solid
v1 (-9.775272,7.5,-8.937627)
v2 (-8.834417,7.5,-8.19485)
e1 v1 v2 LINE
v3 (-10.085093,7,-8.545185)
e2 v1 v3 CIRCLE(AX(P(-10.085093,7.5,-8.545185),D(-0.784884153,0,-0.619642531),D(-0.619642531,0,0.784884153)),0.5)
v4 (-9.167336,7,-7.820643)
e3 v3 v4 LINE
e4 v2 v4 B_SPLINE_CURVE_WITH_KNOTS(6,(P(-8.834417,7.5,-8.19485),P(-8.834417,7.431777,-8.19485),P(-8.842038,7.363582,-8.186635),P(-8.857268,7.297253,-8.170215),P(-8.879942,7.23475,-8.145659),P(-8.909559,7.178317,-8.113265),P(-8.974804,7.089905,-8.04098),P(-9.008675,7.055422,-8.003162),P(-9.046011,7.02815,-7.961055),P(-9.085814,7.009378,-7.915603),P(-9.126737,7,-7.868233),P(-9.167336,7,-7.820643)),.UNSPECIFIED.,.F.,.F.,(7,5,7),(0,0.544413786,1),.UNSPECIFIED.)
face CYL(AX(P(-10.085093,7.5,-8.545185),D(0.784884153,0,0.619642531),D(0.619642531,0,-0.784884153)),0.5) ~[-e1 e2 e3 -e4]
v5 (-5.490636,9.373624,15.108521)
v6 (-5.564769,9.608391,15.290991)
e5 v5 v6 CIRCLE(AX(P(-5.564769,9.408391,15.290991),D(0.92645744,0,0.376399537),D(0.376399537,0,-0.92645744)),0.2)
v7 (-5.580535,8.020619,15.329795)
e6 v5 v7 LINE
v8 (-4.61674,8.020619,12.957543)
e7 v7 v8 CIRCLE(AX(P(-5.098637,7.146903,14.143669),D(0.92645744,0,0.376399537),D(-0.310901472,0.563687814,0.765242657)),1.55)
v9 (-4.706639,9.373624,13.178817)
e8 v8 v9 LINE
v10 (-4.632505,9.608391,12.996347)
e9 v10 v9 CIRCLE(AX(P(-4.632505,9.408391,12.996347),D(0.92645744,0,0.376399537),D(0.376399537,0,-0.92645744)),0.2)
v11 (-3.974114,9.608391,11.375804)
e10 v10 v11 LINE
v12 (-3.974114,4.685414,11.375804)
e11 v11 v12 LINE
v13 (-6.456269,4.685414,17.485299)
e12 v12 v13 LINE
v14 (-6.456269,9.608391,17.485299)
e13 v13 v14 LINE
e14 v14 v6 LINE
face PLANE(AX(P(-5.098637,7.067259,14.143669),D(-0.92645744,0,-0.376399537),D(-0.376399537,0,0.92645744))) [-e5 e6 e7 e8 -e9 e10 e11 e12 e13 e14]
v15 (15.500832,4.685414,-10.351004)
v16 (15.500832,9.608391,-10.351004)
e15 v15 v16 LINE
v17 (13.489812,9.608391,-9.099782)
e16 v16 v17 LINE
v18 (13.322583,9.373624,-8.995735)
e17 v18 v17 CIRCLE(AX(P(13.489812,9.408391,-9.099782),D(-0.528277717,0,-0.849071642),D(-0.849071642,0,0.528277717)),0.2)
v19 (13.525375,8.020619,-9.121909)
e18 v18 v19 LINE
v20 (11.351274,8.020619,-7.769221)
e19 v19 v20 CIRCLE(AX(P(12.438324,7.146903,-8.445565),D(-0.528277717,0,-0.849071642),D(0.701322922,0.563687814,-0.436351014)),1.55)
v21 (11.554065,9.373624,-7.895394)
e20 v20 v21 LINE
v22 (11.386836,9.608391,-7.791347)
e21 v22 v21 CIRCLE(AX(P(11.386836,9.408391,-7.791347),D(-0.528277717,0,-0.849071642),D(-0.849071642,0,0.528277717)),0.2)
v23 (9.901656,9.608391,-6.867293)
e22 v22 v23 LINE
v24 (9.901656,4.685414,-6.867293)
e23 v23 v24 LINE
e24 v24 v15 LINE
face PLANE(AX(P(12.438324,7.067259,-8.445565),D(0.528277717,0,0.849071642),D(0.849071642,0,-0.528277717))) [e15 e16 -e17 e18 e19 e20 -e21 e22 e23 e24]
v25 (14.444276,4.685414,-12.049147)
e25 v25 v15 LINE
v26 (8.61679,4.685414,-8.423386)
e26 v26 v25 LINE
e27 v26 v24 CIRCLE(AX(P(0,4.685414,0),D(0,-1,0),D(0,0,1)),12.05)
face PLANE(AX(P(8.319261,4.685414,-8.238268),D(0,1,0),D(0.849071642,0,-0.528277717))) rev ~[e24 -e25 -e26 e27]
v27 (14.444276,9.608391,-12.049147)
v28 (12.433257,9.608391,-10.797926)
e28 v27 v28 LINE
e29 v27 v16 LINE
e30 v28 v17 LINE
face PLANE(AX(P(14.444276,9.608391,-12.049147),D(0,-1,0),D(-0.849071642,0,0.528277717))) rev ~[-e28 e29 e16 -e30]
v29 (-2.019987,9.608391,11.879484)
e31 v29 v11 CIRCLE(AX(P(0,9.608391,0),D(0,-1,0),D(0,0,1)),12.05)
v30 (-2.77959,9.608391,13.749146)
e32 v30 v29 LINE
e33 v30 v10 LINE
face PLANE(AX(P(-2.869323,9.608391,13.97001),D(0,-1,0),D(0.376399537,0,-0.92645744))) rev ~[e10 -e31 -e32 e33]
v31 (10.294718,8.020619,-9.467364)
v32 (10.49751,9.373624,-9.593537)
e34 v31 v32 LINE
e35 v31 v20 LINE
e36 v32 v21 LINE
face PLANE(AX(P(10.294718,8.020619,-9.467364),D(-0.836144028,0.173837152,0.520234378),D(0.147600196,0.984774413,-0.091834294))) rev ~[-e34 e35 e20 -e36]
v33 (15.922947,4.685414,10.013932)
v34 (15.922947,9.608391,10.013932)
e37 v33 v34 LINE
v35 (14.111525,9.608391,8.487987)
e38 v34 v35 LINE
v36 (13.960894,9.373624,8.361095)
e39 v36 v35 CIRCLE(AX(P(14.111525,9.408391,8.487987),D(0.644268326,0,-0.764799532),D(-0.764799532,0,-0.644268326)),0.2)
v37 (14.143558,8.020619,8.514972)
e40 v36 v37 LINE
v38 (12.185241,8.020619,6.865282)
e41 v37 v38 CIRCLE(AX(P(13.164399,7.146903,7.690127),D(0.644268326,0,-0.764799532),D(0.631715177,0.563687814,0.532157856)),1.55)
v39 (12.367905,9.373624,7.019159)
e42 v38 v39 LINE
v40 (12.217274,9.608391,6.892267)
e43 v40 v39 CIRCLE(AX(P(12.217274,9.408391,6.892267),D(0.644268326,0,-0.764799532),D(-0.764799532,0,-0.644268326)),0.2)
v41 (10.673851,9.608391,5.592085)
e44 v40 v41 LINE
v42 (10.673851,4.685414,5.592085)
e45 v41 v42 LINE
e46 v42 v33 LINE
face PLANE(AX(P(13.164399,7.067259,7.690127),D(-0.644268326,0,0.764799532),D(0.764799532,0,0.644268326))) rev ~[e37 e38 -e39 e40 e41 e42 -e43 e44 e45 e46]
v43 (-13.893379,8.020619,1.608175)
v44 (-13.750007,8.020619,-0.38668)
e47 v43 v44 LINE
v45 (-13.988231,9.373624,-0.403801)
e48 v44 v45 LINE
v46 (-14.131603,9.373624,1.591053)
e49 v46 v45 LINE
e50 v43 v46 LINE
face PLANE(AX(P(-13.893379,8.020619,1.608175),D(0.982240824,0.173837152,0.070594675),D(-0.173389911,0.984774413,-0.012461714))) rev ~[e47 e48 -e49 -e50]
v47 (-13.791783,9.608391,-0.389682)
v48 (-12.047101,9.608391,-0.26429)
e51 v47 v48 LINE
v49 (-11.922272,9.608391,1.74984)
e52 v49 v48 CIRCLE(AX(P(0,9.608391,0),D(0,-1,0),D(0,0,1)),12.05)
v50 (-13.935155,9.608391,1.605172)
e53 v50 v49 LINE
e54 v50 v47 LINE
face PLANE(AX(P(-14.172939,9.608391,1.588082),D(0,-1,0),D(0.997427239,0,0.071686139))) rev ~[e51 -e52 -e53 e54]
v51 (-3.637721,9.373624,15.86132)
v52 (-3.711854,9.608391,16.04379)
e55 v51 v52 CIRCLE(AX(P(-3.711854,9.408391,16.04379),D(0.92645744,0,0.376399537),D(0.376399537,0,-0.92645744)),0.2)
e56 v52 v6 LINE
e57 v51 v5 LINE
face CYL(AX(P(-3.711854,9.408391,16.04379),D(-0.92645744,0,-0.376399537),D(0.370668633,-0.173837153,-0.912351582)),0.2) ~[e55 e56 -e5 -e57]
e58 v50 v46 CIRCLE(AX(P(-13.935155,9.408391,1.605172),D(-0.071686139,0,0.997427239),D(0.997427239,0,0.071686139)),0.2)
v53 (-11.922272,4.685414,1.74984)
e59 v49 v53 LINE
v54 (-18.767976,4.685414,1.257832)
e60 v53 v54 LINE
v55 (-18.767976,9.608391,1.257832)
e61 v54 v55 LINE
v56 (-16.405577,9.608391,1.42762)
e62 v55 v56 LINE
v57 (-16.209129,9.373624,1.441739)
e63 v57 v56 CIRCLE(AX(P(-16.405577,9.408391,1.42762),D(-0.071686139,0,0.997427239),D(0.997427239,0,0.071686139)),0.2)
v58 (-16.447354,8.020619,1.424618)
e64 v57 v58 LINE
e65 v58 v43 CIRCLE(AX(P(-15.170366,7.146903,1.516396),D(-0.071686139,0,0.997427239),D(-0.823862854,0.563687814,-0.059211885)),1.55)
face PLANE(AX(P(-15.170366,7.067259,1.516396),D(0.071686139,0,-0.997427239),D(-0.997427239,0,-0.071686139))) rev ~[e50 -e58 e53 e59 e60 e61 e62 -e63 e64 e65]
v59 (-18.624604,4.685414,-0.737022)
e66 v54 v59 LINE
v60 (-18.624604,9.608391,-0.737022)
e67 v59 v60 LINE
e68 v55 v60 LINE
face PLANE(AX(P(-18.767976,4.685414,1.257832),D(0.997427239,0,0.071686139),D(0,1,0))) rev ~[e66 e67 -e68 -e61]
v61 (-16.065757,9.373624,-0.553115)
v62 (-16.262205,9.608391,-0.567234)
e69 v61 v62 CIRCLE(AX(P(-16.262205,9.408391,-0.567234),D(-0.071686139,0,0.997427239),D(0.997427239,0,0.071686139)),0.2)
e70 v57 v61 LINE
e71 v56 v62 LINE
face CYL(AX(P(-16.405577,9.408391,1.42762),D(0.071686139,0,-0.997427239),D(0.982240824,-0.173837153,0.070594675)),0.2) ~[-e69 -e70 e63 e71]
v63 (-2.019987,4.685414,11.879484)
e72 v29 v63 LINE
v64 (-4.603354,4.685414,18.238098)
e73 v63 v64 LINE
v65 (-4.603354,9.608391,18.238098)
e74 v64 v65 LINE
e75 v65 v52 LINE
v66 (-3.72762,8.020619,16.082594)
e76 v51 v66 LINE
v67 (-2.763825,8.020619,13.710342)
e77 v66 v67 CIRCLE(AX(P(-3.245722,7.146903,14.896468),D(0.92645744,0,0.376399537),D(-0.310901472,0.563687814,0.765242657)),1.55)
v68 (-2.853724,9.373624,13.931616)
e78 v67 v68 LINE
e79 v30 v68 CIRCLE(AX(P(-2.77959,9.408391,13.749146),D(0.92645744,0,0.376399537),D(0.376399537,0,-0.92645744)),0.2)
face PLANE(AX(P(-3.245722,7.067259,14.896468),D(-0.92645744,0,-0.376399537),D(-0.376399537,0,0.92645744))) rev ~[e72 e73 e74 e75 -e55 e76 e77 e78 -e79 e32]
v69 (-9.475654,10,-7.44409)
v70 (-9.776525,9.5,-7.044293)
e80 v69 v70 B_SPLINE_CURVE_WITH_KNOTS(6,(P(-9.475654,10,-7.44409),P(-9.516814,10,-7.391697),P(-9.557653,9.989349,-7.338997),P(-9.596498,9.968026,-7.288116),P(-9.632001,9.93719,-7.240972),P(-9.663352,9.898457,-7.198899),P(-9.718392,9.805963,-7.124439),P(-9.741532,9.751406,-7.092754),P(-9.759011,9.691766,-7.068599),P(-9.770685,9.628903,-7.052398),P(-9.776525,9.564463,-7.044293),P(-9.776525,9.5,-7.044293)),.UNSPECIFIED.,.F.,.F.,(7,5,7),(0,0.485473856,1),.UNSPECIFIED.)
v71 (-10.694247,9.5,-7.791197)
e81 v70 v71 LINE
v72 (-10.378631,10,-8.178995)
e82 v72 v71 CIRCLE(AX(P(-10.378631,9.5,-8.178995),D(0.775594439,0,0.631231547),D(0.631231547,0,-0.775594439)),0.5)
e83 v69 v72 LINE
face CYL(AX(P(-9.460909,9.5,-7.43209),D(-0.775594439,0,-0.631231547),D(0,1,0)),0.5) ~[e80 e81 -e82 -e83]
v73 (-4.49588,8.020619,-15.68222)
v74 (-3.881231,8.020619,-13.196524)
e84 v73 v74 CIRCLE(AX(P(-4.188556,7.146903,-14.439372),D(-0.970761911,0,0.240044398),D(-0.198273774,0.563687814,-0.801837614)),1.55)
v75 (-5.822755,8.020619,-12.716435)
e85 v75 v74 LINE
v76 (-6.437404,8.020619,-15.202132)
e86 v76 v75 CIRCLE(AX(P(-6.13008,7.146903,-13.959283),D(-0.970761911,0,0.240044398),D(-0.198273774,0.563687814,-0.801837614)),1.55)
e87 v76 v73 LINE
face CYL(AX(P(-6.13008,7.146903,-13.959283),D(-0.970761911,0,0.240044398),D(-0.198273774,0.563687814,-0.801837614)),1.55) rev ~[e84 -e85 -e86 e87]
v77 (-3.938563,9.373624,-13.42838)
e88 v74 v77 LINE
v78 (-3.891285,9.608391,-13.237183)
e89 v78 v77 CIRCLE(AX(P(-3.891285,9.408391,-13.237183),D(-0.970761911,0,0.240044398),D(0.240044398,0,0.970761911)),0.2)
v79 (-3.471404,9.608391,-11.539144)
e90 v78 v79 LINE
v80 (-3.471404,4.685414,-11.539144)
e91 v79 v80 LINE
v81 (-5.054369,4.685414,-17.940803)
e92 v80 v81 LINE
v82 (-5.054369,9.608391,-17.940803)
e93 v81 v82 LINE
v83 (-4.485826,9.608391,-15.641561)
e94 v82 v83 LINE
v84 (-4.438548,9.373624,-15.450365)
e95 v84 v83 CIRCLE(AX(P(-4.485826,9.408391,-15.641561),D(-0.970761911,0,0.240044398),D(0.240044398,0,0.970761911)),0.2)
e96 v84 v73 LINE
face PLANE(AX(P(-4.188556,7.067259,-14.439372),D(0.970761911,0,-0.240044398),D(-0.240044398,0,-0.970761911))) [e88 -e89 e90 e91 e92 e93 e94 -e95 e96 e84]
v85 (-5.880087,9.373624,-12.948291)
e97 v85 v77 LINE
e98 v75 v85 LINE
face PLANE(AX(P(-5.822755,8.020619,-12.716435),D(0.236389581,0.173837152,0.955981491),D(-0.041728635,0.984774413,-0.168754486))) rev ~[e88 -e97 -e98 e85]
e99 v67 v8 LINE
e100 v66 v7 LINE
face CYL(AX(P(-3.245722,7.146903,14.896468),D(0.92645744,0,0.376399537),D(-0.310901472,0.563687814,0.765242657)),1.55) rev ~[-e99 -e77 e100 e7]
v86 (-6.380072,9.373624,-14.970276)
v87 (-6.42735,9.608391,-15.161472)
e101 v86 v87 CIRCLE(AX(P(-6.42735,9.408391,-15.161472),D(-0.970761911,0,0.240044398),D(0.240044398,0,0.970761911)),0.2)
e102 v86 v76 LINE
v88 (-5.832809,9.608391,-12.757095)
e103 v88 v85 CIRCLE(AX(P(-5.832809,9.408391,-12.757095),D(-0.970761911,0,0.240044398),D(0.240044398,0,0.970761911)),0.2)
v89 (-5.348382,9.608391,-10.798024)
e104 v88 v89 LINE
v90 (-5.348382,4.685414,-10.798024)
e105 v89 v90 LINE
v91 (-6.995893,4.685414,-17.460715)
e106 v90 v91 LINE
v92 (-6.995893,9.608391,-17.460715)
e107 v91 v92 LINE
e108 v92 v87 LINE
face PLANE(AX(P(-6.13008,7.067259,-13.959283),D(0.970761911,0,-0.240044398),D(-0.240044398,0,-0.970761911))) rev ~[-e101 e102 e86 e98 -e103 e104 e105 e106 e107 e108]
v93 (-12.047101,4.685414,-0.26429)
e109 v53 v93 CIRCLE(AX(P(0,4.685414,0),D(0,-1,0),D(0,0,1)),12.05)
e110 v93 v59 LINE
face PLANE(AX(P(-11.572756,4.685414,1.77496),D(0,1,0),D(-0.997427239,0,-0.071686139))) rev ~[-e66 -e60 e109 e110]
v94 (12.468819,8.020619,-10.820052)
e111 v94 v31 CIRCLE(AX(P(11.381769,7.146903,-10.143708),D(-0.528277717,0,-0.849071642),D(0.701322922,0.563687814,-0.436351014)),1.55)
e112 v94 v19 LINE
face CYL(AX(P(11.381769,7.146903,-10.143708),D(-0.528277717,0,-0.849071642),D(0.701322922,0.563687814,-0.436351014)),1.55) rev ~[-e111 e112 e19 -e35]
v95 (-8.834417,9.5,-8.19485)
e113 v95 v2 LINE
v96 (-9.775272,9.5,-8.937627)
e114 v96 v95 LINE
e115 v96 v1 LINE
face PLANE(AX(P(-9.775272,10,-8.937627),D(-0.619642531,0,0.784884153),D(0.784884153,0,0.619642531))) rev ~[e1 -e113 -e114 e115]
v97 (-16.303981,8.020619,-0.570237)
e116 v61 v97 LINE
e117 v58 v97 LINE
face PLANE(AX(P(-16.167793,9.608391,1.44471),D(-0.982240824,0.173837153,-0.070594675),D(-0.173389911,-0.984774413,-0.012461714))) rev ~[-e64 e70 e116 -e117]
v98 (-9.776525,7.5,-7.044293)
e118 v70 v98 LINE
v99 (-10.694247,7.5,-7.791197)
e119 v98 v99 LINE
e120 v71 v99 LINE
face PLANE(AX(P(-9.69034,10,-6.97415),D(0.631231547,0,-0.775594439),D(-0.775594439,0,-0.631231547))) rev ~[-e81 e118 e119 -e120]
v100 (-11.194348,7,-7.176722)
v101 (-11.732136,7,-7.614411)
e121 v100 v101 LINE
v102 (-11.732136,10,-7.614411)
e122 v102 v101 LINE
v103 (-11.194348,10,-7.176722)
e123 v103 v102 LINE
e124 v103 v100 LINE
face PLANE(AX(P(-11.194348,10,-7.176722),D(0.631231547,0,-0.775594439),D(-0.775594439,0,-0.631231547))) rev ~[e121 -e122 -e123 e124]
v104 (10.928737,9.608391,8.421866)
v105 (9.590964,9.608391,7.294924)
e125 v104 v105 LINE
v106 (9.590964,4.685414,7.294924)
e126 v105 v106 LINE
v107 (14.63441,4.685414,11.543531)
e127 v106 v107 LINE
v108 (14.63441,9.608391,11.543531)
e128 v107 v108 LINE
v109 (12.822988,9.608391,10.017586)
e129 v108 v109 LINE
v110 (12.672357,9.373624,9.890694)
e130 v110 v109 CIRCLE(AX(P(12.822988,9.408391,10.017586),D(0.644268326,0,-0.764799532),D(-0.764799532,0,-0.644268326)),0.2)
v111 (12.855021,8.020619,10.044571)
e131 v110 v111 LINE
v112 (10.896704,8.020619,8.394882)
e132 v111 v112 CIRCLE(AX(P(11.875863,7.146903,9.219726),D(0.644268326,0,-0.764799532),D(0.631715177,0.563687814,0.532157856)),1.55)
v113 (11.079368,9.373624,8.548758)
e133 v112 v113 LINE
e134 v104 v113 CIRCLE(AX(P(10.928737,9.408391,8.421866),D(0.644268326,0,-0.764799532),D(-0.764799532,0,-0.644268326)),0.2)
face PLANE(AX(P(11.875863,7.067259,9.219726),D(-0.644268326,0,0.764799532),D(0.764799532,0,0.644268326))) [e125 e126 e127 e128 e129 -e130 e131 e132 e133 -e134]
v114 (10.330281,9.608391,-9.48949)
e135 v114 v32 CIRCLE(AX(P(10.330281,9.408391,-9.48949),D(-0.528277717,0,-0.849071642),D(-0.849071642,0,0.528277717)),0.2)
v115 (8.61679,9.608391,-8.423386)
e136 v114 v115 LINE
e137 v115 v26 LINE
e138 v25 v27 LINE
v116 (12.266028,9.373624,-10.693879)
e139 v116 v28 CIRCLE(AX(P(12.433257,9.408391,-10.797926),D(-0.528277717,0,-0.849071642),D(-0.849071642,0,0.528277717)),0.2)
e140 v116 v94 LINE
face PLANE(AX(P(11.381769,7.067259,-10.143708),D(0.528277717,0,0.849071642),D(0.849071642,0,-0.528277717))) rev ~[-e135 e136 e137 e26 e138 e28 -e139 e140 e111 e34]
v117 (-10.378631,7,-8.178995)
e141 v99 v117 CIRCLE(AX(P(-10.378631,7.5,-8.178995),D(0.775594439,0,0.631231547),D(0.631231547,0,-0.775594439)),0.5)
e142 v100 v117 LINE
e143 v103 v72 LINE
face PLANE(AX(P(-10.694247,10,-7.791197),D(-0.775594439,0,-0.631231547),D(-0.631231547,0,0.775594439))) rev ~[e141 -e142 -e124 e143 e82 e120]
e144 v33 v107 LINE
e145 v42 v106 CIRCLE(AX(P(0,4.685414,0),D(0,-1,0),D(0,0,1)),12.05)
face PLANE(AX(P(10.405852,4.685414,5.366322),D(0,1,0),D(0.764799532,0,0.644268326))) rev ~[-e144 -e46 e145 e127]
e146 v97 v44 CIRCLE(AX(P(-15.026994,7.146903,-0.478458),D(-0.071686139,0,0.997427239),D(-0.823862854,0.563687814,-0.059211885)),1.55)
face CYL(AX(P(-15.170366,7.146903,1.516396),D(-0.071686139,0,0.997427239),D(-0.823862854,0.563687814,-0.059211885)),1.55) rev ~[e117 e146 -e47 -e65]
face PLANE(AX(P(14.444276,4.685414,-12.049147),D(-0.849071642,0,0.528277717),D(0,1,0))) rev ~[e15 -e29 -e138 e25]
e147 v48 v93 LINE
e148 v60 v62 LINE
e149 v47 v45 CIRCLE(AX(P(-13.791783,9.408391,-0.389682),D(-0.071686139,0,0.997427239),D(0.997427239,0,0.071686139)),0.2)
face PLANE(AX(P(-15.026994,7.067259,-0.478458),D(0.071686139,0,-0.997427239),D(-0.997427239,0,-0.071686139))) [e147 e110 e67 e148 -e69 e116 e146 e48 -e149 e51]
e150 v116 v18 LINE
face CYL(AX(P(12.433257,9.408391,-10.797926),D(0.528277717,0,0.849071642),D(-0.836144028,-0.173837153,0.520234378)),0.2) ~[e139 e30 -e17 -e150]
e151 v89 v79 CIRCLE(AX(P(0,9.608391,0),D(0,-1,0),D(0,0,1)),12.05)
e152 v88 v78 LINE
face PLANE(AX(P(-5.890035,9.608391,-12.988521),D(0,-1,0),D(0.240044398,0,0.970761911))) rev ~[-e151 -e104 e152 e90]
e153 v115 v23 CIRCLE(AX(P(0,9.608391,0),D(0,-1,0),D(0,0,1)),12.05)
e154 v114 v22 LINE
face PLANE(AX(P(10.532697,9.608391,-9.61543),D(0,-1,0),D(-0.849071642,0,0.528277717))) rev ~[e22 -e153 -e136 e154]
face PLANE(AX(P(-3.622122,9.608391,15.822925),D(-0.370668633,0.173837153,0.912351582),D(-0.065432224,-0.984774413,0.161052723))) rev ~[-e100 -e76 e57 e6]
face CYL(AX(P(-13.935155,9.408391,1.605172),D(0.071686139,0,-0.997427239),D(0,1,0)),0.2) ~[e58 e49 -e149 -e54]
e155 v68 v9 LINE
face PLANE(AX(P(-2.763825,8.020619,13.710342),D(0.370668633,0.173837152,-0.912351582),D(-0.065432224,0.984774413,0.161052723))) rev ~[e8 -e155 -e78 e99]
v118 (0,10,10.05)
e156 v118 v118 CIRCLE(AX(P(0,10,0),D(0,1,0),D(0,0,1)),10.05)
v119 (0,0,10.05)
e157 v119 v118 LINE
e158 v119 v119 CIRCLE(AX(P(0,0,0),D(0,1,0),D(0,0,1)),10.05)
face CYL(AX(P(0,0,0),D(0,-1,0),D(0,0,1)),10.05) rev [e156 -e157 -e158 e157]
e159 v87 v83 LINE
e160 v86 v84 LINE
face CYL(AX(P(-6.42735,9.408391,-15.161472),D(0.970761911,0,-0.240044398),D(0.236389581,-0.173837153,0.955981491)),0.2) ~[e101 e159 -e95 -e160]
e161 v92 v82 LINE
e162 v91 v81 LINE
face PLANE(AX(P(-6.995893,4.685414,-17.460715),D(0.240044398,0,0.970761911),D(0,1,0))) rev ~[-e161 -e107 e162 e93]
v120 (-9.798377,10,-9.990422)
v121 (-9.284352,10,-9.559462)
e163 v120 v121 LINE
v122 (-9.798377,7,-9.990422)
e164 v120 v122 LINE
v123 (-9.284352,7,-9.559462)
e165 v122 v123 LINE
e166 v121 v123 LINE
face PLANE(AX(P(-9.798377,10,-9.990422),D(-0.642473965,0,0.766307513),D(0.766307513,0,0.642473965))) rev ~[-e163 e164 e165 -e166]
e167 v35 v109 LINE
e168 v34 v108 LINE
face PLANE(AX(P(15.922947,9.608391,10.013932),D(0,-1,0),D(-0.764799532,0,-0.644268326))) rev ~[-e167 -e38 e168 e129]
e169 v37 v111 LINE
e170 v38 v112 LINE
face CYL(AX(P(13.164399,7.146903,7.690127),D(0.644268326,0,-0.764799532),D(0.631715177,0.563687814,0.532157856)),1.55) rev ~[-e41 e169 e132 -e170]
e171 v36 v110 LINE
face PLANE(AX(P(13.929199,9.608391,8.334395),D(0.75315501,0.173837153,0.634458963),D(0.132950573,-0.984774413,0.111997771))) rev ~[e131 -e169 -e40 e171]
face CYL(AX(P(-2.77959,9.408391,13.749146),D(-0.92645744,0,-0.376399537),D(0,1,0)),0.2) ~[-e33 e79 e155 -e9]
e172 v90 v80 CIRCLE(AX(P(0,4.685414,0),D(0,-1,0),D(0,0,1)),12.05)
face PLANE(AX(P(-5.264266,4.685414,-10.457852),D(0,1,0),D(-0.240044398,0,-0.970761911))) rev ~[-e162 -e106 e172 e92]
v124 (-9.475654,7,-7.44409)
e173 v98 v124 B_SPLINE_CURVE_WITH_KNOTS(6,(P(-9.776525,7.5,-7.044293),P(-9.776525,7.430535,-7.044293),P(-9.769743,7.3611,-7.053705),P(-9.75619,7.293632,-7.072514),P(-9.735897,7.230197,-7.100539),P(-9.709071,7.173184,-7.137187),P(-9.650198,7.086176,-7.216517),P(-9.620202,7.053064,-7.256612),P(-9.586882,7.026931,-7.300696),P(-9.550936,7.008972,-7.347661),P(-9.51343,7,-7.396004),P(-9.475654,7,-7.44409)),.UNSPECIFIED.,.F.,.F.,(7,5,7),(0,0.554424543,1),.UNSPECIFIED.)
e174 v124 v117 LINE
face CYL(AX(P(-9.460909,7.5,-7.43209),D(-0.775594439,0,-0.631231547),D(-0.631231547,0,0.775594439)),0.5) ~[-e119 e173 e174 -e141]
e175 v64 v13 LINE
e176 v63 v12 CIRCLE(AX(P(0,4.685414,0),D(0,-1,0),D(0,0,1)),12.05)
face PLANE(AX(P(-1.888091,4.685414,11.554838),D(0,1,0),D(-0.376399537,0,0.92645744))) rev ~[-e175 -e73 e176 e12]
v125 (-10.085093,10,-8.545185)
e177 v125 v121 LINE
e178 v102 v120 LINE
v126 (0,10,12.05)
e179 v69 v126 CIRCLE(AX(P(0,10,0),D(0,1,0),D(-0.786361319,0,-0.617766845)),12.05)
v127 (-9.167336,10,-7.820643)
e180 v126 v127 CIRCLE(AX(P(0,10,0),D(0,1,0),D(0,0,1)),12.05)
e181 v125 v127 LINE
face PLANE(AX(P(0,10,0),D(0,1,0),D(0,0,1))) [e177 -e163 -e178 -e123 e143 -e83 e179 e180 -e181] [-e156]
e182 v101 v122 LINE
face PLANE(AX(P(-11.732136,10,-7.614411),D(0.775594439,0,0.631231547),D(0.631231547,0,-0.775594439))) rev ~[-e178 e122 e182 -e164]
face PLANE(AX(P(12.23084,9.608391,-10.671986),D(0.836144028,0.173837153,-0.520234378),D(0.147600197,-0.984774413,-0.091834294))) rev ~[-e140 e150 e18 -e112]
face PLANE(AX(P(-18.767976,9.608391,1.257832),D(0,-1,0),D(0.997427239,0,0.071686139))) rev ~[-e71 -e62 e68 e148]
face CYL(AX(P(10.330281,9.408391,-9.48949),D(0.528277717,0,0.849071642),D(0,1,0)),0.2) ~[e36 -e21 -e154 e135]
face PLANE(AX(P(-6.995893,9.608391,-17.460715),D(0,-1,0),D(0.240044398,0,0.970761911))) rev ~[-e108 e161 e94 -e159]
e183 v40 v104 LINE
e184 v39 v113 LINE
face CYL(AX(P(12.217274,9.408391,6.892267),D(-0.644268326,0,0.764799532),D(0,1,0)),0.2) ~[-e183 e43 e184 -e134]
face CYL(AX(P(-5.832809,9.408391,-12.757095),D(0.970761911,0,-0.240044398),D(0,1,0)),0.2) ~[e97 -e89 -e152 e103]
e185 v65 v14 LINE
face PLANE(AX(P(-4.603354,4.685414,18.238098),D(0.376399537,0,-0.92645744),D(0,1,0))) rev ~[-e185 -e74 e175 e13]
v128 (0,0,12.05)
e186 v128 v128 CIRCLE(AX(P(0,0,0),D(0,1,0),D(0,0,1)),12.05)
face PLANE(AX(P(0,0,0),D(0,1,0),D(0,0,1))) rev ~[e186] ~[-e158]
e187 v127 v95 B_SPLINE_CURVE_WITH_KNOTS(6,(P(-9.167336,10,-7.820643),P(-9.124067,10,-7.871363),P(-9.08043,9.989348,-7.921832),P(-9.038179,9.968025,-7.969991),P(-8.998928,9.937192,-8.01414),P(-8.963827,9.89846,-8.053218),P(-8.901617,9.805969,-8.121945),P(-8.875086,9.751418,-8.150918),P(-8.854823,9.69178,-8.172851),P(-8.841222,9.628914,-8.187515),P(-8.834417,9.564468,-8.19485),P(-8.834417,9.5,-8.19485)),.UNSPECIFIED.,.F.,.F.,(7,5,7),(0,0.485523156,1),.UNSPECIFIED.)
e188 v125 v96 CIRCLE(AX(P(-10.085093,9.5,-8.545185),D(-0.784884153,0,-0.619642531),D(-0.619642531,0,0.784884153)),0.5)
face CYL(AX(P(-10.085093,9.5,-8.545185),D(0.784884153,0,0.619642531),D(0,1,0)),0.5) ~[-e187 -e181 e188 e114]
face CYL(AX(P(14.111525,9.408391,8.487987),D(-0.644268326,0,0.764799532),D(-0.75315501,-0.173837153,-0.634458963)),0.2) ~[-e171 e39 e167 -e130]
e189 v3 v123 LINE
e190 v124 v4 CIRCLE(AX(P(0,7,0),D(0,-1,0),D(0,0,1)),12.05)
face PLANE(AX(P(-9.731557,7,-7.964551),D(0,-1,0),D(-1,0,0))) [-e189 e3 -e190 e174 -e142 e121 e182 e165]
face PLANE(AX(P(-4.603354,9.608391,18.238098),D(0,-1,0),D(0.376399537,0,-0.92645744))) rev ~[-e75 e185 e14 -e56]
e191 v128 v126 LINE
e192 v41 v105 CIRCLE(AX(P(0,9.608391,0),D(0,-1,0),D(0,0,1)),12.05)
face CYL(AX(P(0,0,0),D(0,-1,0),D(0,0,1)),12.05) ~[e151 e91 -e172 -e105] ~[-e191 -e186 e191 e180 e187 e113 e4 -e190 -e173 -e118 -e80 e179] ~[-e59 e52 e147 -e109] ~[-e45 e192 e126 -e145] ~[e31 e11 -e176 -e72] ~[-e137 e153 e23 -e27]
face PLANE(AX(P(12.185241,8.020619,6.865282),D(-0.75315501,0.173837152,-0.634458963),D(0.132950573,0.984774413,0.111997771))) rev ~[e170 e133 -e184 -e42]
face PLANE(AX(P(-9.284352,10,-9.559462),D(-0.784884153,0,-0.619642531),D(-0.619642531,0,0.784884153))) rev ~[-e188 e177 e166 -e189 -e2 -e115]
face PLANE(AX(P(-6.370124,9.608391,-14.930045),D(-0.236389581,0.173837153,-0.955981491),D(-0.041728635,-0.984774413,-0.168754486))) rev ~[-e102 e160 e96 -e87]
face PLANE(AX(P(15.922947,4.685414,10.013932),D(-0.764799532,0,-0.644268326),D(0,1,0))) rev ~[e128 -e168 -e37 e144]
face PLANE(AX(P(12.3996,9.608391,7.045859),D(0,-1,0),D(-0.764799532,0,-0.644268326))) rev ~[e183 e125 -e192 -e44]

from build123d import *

# Parameters (mm, degrees)
ESQUISSE1_R                      = 12.05
ESQUISSE1_R_2                    = 10.05
BASE_DEPTH                       = 10
BOSS_TIGE_DEPTH                  = 2
CONGE_TIGE_R                     = 0.2
REP_SUPPORT_TIGE_COUNT           = 5
CONGE_TIGE_OF_REP_SUPPORT_TIGE_R = 0.2
BOSS_EXTRU_1_DEPTH               = 3
CONG_1_R                         = 0.5


with BuildPart() as part:
    # Esquisse1 → BASE (new body)
    with BuildSketch(Plane(origin=(0, 0, 0), x_dir=(1, 0, 0), z_dir=(0, 1, 0))):
        Circle(ESQUISSE1_R)
        Circle(ESQUISSE1_R_2, mode=Mode.SUBTRACT)
    extrude(amount=BASE_DEPTH)

    # Esquisse7 → BOSS TIGE (add)
    with BuildSketch(Plane(origin=(-2.523980967, 0, 0.624115435), x_dir=(-0.2400443980205285, -8.560907231219602e-15, -0.9707619105522024), z_dir=(0.9707619105522023, 0, -0.24004439802052846))):
        with BuildLine():
            Line((14.022631891, 9.608391049), (11.415742159, 9.608391049))
            Line((11.415742159, 9.608391049), (11.415742159, 4.685414017))
            Line((11.415742159, 4.685414017), (18.629521623, 4.685414017))
            Line((18.629521623, 4.685414017), (18.629521623, 9.608391049))
            Line((18.629521623, 9.608391049), (16.022631891, 9.608391049))
            Line((16.022631891, 9.608391049), (16.302913172, 8.020618644))
            ThreePointArc((16.302913172, 8.020618644), (15.022631891, 5.596902533), (13.742350611, 8.020618644))
            Line((13.742350611, 8.020618644), (14.022631891, 9.608391049))
        make_face()
    boss_tige = extrude(amount=BOSS_TIGE_DEPTH)

    # CONGE TIGE
    conge_tige_edges = [part.edges().sort_by_distance(p)[0] for p in [
        (-5.399362084, 9.608391049, -15.17008971),
        (-4.919273288, 9.608391049, -13.228565889),
    ]]
    fillet(conge_tige_edges, radius=CONGE_TIGE_R)

    # REP SUPPORT TIGE: BOSS TIGE ×5 about axis
    rep_support_tige_axis = Axis((0, 10, 0), (0, -1, 0))
    for i in range(1, REP_SUPPORT_TIGE_COUNT):
        add(boss_tige.rotate(rep_support_tige_axis, i * 360 / REP_SUPPORT_TIGE_COUNT))

    # CONGE TIGE of REP SUPPORT TIGE
    conge_tige_of_rep_support_tige_edges = [part.edges().sort_by_distance(p)[0] for p in [
        (12.759118029, 9.608391049, -9.82291402),
        (11.060974744, 9.608391049, -8.766358587),
        (13.284930692, 9.608391049, 9.099194977),
        (11.755331628, 9.608391049, 7.810658325),
        (-4.548579323, 9.608391049, 15.446525786),
        (-3.795780249, 9.608391049, 13.593610906),
        (-16.096107314, 9.608391049, 0.447282967),
        (-14.101252836, 9.608391049, 0.590655245),
    ]]
    fillet(conge_tige_of_rep_support_tige_edges, radius=CONGE_TIGE_OF_REP_SUPPORT_TIGE_R)

    # Esquisse8 → Boss.-Extru.1 (add)
    with BuildSketch(Plane(origin=(0, 10, 0), x_dir=(1, 0, 0), z_dir=(0, 1, 0))):
        with BuildLine():
            Line((-8.268421395, 8.757415667), (-7.703456323, 8.300627196))
            ThreePointArc((-7.703456323, 8.300627196), (-8.759173713, 7.17778009), (-9.652653966, 5.92198637))
            Line((-9.652653966, 5.92198637), (-10.190441919, 6.359674812))
            Line((-10.190441919, 6.359674812), (-9.690340196, 6.974149988))
            Line((-9.690340196, 6.974149988), (-10.694246531, 7.791197297))
            Line((-10.694246531, 7.791197297), (-11.194348255, 7.176722121))
            Line((-11.194348255, 7.176722121), (-11.732136208, 7.614410563))
            Line((-11.732136208, 7.614410563), (-9.79837654, 9.990421794))
            Line((-9.79837654, 9.990421794), (-9.28435206, 9.559462499))
            Line((-9.28435206, 9.559462499), (-9.775272229, 8.937627422))
            Line((-9.775272229, 8.937627422), (-8.759341564, 8.13558059))
            Line((-8.759341564, 8.13558059), (-8.268421395, 8.757415667))
        make_face()
    extrude(amount=-BOSS_EXTRU_1_DEPTH)

    # Congé1
    cong_1_edges = [part.edges().sort_by_distance(p)[0] for p in [
        (-10.235385675, 7, -7.417745099),
        (-9.304844667, 7, -8.566238952),
        (-9.304844667, 10, -8.566238952),
        (-10.235385675, 10, -7.417745099),
    ]]
    fillet(cong_1_edges, radius=CONG_1_R)


solid = part.part
